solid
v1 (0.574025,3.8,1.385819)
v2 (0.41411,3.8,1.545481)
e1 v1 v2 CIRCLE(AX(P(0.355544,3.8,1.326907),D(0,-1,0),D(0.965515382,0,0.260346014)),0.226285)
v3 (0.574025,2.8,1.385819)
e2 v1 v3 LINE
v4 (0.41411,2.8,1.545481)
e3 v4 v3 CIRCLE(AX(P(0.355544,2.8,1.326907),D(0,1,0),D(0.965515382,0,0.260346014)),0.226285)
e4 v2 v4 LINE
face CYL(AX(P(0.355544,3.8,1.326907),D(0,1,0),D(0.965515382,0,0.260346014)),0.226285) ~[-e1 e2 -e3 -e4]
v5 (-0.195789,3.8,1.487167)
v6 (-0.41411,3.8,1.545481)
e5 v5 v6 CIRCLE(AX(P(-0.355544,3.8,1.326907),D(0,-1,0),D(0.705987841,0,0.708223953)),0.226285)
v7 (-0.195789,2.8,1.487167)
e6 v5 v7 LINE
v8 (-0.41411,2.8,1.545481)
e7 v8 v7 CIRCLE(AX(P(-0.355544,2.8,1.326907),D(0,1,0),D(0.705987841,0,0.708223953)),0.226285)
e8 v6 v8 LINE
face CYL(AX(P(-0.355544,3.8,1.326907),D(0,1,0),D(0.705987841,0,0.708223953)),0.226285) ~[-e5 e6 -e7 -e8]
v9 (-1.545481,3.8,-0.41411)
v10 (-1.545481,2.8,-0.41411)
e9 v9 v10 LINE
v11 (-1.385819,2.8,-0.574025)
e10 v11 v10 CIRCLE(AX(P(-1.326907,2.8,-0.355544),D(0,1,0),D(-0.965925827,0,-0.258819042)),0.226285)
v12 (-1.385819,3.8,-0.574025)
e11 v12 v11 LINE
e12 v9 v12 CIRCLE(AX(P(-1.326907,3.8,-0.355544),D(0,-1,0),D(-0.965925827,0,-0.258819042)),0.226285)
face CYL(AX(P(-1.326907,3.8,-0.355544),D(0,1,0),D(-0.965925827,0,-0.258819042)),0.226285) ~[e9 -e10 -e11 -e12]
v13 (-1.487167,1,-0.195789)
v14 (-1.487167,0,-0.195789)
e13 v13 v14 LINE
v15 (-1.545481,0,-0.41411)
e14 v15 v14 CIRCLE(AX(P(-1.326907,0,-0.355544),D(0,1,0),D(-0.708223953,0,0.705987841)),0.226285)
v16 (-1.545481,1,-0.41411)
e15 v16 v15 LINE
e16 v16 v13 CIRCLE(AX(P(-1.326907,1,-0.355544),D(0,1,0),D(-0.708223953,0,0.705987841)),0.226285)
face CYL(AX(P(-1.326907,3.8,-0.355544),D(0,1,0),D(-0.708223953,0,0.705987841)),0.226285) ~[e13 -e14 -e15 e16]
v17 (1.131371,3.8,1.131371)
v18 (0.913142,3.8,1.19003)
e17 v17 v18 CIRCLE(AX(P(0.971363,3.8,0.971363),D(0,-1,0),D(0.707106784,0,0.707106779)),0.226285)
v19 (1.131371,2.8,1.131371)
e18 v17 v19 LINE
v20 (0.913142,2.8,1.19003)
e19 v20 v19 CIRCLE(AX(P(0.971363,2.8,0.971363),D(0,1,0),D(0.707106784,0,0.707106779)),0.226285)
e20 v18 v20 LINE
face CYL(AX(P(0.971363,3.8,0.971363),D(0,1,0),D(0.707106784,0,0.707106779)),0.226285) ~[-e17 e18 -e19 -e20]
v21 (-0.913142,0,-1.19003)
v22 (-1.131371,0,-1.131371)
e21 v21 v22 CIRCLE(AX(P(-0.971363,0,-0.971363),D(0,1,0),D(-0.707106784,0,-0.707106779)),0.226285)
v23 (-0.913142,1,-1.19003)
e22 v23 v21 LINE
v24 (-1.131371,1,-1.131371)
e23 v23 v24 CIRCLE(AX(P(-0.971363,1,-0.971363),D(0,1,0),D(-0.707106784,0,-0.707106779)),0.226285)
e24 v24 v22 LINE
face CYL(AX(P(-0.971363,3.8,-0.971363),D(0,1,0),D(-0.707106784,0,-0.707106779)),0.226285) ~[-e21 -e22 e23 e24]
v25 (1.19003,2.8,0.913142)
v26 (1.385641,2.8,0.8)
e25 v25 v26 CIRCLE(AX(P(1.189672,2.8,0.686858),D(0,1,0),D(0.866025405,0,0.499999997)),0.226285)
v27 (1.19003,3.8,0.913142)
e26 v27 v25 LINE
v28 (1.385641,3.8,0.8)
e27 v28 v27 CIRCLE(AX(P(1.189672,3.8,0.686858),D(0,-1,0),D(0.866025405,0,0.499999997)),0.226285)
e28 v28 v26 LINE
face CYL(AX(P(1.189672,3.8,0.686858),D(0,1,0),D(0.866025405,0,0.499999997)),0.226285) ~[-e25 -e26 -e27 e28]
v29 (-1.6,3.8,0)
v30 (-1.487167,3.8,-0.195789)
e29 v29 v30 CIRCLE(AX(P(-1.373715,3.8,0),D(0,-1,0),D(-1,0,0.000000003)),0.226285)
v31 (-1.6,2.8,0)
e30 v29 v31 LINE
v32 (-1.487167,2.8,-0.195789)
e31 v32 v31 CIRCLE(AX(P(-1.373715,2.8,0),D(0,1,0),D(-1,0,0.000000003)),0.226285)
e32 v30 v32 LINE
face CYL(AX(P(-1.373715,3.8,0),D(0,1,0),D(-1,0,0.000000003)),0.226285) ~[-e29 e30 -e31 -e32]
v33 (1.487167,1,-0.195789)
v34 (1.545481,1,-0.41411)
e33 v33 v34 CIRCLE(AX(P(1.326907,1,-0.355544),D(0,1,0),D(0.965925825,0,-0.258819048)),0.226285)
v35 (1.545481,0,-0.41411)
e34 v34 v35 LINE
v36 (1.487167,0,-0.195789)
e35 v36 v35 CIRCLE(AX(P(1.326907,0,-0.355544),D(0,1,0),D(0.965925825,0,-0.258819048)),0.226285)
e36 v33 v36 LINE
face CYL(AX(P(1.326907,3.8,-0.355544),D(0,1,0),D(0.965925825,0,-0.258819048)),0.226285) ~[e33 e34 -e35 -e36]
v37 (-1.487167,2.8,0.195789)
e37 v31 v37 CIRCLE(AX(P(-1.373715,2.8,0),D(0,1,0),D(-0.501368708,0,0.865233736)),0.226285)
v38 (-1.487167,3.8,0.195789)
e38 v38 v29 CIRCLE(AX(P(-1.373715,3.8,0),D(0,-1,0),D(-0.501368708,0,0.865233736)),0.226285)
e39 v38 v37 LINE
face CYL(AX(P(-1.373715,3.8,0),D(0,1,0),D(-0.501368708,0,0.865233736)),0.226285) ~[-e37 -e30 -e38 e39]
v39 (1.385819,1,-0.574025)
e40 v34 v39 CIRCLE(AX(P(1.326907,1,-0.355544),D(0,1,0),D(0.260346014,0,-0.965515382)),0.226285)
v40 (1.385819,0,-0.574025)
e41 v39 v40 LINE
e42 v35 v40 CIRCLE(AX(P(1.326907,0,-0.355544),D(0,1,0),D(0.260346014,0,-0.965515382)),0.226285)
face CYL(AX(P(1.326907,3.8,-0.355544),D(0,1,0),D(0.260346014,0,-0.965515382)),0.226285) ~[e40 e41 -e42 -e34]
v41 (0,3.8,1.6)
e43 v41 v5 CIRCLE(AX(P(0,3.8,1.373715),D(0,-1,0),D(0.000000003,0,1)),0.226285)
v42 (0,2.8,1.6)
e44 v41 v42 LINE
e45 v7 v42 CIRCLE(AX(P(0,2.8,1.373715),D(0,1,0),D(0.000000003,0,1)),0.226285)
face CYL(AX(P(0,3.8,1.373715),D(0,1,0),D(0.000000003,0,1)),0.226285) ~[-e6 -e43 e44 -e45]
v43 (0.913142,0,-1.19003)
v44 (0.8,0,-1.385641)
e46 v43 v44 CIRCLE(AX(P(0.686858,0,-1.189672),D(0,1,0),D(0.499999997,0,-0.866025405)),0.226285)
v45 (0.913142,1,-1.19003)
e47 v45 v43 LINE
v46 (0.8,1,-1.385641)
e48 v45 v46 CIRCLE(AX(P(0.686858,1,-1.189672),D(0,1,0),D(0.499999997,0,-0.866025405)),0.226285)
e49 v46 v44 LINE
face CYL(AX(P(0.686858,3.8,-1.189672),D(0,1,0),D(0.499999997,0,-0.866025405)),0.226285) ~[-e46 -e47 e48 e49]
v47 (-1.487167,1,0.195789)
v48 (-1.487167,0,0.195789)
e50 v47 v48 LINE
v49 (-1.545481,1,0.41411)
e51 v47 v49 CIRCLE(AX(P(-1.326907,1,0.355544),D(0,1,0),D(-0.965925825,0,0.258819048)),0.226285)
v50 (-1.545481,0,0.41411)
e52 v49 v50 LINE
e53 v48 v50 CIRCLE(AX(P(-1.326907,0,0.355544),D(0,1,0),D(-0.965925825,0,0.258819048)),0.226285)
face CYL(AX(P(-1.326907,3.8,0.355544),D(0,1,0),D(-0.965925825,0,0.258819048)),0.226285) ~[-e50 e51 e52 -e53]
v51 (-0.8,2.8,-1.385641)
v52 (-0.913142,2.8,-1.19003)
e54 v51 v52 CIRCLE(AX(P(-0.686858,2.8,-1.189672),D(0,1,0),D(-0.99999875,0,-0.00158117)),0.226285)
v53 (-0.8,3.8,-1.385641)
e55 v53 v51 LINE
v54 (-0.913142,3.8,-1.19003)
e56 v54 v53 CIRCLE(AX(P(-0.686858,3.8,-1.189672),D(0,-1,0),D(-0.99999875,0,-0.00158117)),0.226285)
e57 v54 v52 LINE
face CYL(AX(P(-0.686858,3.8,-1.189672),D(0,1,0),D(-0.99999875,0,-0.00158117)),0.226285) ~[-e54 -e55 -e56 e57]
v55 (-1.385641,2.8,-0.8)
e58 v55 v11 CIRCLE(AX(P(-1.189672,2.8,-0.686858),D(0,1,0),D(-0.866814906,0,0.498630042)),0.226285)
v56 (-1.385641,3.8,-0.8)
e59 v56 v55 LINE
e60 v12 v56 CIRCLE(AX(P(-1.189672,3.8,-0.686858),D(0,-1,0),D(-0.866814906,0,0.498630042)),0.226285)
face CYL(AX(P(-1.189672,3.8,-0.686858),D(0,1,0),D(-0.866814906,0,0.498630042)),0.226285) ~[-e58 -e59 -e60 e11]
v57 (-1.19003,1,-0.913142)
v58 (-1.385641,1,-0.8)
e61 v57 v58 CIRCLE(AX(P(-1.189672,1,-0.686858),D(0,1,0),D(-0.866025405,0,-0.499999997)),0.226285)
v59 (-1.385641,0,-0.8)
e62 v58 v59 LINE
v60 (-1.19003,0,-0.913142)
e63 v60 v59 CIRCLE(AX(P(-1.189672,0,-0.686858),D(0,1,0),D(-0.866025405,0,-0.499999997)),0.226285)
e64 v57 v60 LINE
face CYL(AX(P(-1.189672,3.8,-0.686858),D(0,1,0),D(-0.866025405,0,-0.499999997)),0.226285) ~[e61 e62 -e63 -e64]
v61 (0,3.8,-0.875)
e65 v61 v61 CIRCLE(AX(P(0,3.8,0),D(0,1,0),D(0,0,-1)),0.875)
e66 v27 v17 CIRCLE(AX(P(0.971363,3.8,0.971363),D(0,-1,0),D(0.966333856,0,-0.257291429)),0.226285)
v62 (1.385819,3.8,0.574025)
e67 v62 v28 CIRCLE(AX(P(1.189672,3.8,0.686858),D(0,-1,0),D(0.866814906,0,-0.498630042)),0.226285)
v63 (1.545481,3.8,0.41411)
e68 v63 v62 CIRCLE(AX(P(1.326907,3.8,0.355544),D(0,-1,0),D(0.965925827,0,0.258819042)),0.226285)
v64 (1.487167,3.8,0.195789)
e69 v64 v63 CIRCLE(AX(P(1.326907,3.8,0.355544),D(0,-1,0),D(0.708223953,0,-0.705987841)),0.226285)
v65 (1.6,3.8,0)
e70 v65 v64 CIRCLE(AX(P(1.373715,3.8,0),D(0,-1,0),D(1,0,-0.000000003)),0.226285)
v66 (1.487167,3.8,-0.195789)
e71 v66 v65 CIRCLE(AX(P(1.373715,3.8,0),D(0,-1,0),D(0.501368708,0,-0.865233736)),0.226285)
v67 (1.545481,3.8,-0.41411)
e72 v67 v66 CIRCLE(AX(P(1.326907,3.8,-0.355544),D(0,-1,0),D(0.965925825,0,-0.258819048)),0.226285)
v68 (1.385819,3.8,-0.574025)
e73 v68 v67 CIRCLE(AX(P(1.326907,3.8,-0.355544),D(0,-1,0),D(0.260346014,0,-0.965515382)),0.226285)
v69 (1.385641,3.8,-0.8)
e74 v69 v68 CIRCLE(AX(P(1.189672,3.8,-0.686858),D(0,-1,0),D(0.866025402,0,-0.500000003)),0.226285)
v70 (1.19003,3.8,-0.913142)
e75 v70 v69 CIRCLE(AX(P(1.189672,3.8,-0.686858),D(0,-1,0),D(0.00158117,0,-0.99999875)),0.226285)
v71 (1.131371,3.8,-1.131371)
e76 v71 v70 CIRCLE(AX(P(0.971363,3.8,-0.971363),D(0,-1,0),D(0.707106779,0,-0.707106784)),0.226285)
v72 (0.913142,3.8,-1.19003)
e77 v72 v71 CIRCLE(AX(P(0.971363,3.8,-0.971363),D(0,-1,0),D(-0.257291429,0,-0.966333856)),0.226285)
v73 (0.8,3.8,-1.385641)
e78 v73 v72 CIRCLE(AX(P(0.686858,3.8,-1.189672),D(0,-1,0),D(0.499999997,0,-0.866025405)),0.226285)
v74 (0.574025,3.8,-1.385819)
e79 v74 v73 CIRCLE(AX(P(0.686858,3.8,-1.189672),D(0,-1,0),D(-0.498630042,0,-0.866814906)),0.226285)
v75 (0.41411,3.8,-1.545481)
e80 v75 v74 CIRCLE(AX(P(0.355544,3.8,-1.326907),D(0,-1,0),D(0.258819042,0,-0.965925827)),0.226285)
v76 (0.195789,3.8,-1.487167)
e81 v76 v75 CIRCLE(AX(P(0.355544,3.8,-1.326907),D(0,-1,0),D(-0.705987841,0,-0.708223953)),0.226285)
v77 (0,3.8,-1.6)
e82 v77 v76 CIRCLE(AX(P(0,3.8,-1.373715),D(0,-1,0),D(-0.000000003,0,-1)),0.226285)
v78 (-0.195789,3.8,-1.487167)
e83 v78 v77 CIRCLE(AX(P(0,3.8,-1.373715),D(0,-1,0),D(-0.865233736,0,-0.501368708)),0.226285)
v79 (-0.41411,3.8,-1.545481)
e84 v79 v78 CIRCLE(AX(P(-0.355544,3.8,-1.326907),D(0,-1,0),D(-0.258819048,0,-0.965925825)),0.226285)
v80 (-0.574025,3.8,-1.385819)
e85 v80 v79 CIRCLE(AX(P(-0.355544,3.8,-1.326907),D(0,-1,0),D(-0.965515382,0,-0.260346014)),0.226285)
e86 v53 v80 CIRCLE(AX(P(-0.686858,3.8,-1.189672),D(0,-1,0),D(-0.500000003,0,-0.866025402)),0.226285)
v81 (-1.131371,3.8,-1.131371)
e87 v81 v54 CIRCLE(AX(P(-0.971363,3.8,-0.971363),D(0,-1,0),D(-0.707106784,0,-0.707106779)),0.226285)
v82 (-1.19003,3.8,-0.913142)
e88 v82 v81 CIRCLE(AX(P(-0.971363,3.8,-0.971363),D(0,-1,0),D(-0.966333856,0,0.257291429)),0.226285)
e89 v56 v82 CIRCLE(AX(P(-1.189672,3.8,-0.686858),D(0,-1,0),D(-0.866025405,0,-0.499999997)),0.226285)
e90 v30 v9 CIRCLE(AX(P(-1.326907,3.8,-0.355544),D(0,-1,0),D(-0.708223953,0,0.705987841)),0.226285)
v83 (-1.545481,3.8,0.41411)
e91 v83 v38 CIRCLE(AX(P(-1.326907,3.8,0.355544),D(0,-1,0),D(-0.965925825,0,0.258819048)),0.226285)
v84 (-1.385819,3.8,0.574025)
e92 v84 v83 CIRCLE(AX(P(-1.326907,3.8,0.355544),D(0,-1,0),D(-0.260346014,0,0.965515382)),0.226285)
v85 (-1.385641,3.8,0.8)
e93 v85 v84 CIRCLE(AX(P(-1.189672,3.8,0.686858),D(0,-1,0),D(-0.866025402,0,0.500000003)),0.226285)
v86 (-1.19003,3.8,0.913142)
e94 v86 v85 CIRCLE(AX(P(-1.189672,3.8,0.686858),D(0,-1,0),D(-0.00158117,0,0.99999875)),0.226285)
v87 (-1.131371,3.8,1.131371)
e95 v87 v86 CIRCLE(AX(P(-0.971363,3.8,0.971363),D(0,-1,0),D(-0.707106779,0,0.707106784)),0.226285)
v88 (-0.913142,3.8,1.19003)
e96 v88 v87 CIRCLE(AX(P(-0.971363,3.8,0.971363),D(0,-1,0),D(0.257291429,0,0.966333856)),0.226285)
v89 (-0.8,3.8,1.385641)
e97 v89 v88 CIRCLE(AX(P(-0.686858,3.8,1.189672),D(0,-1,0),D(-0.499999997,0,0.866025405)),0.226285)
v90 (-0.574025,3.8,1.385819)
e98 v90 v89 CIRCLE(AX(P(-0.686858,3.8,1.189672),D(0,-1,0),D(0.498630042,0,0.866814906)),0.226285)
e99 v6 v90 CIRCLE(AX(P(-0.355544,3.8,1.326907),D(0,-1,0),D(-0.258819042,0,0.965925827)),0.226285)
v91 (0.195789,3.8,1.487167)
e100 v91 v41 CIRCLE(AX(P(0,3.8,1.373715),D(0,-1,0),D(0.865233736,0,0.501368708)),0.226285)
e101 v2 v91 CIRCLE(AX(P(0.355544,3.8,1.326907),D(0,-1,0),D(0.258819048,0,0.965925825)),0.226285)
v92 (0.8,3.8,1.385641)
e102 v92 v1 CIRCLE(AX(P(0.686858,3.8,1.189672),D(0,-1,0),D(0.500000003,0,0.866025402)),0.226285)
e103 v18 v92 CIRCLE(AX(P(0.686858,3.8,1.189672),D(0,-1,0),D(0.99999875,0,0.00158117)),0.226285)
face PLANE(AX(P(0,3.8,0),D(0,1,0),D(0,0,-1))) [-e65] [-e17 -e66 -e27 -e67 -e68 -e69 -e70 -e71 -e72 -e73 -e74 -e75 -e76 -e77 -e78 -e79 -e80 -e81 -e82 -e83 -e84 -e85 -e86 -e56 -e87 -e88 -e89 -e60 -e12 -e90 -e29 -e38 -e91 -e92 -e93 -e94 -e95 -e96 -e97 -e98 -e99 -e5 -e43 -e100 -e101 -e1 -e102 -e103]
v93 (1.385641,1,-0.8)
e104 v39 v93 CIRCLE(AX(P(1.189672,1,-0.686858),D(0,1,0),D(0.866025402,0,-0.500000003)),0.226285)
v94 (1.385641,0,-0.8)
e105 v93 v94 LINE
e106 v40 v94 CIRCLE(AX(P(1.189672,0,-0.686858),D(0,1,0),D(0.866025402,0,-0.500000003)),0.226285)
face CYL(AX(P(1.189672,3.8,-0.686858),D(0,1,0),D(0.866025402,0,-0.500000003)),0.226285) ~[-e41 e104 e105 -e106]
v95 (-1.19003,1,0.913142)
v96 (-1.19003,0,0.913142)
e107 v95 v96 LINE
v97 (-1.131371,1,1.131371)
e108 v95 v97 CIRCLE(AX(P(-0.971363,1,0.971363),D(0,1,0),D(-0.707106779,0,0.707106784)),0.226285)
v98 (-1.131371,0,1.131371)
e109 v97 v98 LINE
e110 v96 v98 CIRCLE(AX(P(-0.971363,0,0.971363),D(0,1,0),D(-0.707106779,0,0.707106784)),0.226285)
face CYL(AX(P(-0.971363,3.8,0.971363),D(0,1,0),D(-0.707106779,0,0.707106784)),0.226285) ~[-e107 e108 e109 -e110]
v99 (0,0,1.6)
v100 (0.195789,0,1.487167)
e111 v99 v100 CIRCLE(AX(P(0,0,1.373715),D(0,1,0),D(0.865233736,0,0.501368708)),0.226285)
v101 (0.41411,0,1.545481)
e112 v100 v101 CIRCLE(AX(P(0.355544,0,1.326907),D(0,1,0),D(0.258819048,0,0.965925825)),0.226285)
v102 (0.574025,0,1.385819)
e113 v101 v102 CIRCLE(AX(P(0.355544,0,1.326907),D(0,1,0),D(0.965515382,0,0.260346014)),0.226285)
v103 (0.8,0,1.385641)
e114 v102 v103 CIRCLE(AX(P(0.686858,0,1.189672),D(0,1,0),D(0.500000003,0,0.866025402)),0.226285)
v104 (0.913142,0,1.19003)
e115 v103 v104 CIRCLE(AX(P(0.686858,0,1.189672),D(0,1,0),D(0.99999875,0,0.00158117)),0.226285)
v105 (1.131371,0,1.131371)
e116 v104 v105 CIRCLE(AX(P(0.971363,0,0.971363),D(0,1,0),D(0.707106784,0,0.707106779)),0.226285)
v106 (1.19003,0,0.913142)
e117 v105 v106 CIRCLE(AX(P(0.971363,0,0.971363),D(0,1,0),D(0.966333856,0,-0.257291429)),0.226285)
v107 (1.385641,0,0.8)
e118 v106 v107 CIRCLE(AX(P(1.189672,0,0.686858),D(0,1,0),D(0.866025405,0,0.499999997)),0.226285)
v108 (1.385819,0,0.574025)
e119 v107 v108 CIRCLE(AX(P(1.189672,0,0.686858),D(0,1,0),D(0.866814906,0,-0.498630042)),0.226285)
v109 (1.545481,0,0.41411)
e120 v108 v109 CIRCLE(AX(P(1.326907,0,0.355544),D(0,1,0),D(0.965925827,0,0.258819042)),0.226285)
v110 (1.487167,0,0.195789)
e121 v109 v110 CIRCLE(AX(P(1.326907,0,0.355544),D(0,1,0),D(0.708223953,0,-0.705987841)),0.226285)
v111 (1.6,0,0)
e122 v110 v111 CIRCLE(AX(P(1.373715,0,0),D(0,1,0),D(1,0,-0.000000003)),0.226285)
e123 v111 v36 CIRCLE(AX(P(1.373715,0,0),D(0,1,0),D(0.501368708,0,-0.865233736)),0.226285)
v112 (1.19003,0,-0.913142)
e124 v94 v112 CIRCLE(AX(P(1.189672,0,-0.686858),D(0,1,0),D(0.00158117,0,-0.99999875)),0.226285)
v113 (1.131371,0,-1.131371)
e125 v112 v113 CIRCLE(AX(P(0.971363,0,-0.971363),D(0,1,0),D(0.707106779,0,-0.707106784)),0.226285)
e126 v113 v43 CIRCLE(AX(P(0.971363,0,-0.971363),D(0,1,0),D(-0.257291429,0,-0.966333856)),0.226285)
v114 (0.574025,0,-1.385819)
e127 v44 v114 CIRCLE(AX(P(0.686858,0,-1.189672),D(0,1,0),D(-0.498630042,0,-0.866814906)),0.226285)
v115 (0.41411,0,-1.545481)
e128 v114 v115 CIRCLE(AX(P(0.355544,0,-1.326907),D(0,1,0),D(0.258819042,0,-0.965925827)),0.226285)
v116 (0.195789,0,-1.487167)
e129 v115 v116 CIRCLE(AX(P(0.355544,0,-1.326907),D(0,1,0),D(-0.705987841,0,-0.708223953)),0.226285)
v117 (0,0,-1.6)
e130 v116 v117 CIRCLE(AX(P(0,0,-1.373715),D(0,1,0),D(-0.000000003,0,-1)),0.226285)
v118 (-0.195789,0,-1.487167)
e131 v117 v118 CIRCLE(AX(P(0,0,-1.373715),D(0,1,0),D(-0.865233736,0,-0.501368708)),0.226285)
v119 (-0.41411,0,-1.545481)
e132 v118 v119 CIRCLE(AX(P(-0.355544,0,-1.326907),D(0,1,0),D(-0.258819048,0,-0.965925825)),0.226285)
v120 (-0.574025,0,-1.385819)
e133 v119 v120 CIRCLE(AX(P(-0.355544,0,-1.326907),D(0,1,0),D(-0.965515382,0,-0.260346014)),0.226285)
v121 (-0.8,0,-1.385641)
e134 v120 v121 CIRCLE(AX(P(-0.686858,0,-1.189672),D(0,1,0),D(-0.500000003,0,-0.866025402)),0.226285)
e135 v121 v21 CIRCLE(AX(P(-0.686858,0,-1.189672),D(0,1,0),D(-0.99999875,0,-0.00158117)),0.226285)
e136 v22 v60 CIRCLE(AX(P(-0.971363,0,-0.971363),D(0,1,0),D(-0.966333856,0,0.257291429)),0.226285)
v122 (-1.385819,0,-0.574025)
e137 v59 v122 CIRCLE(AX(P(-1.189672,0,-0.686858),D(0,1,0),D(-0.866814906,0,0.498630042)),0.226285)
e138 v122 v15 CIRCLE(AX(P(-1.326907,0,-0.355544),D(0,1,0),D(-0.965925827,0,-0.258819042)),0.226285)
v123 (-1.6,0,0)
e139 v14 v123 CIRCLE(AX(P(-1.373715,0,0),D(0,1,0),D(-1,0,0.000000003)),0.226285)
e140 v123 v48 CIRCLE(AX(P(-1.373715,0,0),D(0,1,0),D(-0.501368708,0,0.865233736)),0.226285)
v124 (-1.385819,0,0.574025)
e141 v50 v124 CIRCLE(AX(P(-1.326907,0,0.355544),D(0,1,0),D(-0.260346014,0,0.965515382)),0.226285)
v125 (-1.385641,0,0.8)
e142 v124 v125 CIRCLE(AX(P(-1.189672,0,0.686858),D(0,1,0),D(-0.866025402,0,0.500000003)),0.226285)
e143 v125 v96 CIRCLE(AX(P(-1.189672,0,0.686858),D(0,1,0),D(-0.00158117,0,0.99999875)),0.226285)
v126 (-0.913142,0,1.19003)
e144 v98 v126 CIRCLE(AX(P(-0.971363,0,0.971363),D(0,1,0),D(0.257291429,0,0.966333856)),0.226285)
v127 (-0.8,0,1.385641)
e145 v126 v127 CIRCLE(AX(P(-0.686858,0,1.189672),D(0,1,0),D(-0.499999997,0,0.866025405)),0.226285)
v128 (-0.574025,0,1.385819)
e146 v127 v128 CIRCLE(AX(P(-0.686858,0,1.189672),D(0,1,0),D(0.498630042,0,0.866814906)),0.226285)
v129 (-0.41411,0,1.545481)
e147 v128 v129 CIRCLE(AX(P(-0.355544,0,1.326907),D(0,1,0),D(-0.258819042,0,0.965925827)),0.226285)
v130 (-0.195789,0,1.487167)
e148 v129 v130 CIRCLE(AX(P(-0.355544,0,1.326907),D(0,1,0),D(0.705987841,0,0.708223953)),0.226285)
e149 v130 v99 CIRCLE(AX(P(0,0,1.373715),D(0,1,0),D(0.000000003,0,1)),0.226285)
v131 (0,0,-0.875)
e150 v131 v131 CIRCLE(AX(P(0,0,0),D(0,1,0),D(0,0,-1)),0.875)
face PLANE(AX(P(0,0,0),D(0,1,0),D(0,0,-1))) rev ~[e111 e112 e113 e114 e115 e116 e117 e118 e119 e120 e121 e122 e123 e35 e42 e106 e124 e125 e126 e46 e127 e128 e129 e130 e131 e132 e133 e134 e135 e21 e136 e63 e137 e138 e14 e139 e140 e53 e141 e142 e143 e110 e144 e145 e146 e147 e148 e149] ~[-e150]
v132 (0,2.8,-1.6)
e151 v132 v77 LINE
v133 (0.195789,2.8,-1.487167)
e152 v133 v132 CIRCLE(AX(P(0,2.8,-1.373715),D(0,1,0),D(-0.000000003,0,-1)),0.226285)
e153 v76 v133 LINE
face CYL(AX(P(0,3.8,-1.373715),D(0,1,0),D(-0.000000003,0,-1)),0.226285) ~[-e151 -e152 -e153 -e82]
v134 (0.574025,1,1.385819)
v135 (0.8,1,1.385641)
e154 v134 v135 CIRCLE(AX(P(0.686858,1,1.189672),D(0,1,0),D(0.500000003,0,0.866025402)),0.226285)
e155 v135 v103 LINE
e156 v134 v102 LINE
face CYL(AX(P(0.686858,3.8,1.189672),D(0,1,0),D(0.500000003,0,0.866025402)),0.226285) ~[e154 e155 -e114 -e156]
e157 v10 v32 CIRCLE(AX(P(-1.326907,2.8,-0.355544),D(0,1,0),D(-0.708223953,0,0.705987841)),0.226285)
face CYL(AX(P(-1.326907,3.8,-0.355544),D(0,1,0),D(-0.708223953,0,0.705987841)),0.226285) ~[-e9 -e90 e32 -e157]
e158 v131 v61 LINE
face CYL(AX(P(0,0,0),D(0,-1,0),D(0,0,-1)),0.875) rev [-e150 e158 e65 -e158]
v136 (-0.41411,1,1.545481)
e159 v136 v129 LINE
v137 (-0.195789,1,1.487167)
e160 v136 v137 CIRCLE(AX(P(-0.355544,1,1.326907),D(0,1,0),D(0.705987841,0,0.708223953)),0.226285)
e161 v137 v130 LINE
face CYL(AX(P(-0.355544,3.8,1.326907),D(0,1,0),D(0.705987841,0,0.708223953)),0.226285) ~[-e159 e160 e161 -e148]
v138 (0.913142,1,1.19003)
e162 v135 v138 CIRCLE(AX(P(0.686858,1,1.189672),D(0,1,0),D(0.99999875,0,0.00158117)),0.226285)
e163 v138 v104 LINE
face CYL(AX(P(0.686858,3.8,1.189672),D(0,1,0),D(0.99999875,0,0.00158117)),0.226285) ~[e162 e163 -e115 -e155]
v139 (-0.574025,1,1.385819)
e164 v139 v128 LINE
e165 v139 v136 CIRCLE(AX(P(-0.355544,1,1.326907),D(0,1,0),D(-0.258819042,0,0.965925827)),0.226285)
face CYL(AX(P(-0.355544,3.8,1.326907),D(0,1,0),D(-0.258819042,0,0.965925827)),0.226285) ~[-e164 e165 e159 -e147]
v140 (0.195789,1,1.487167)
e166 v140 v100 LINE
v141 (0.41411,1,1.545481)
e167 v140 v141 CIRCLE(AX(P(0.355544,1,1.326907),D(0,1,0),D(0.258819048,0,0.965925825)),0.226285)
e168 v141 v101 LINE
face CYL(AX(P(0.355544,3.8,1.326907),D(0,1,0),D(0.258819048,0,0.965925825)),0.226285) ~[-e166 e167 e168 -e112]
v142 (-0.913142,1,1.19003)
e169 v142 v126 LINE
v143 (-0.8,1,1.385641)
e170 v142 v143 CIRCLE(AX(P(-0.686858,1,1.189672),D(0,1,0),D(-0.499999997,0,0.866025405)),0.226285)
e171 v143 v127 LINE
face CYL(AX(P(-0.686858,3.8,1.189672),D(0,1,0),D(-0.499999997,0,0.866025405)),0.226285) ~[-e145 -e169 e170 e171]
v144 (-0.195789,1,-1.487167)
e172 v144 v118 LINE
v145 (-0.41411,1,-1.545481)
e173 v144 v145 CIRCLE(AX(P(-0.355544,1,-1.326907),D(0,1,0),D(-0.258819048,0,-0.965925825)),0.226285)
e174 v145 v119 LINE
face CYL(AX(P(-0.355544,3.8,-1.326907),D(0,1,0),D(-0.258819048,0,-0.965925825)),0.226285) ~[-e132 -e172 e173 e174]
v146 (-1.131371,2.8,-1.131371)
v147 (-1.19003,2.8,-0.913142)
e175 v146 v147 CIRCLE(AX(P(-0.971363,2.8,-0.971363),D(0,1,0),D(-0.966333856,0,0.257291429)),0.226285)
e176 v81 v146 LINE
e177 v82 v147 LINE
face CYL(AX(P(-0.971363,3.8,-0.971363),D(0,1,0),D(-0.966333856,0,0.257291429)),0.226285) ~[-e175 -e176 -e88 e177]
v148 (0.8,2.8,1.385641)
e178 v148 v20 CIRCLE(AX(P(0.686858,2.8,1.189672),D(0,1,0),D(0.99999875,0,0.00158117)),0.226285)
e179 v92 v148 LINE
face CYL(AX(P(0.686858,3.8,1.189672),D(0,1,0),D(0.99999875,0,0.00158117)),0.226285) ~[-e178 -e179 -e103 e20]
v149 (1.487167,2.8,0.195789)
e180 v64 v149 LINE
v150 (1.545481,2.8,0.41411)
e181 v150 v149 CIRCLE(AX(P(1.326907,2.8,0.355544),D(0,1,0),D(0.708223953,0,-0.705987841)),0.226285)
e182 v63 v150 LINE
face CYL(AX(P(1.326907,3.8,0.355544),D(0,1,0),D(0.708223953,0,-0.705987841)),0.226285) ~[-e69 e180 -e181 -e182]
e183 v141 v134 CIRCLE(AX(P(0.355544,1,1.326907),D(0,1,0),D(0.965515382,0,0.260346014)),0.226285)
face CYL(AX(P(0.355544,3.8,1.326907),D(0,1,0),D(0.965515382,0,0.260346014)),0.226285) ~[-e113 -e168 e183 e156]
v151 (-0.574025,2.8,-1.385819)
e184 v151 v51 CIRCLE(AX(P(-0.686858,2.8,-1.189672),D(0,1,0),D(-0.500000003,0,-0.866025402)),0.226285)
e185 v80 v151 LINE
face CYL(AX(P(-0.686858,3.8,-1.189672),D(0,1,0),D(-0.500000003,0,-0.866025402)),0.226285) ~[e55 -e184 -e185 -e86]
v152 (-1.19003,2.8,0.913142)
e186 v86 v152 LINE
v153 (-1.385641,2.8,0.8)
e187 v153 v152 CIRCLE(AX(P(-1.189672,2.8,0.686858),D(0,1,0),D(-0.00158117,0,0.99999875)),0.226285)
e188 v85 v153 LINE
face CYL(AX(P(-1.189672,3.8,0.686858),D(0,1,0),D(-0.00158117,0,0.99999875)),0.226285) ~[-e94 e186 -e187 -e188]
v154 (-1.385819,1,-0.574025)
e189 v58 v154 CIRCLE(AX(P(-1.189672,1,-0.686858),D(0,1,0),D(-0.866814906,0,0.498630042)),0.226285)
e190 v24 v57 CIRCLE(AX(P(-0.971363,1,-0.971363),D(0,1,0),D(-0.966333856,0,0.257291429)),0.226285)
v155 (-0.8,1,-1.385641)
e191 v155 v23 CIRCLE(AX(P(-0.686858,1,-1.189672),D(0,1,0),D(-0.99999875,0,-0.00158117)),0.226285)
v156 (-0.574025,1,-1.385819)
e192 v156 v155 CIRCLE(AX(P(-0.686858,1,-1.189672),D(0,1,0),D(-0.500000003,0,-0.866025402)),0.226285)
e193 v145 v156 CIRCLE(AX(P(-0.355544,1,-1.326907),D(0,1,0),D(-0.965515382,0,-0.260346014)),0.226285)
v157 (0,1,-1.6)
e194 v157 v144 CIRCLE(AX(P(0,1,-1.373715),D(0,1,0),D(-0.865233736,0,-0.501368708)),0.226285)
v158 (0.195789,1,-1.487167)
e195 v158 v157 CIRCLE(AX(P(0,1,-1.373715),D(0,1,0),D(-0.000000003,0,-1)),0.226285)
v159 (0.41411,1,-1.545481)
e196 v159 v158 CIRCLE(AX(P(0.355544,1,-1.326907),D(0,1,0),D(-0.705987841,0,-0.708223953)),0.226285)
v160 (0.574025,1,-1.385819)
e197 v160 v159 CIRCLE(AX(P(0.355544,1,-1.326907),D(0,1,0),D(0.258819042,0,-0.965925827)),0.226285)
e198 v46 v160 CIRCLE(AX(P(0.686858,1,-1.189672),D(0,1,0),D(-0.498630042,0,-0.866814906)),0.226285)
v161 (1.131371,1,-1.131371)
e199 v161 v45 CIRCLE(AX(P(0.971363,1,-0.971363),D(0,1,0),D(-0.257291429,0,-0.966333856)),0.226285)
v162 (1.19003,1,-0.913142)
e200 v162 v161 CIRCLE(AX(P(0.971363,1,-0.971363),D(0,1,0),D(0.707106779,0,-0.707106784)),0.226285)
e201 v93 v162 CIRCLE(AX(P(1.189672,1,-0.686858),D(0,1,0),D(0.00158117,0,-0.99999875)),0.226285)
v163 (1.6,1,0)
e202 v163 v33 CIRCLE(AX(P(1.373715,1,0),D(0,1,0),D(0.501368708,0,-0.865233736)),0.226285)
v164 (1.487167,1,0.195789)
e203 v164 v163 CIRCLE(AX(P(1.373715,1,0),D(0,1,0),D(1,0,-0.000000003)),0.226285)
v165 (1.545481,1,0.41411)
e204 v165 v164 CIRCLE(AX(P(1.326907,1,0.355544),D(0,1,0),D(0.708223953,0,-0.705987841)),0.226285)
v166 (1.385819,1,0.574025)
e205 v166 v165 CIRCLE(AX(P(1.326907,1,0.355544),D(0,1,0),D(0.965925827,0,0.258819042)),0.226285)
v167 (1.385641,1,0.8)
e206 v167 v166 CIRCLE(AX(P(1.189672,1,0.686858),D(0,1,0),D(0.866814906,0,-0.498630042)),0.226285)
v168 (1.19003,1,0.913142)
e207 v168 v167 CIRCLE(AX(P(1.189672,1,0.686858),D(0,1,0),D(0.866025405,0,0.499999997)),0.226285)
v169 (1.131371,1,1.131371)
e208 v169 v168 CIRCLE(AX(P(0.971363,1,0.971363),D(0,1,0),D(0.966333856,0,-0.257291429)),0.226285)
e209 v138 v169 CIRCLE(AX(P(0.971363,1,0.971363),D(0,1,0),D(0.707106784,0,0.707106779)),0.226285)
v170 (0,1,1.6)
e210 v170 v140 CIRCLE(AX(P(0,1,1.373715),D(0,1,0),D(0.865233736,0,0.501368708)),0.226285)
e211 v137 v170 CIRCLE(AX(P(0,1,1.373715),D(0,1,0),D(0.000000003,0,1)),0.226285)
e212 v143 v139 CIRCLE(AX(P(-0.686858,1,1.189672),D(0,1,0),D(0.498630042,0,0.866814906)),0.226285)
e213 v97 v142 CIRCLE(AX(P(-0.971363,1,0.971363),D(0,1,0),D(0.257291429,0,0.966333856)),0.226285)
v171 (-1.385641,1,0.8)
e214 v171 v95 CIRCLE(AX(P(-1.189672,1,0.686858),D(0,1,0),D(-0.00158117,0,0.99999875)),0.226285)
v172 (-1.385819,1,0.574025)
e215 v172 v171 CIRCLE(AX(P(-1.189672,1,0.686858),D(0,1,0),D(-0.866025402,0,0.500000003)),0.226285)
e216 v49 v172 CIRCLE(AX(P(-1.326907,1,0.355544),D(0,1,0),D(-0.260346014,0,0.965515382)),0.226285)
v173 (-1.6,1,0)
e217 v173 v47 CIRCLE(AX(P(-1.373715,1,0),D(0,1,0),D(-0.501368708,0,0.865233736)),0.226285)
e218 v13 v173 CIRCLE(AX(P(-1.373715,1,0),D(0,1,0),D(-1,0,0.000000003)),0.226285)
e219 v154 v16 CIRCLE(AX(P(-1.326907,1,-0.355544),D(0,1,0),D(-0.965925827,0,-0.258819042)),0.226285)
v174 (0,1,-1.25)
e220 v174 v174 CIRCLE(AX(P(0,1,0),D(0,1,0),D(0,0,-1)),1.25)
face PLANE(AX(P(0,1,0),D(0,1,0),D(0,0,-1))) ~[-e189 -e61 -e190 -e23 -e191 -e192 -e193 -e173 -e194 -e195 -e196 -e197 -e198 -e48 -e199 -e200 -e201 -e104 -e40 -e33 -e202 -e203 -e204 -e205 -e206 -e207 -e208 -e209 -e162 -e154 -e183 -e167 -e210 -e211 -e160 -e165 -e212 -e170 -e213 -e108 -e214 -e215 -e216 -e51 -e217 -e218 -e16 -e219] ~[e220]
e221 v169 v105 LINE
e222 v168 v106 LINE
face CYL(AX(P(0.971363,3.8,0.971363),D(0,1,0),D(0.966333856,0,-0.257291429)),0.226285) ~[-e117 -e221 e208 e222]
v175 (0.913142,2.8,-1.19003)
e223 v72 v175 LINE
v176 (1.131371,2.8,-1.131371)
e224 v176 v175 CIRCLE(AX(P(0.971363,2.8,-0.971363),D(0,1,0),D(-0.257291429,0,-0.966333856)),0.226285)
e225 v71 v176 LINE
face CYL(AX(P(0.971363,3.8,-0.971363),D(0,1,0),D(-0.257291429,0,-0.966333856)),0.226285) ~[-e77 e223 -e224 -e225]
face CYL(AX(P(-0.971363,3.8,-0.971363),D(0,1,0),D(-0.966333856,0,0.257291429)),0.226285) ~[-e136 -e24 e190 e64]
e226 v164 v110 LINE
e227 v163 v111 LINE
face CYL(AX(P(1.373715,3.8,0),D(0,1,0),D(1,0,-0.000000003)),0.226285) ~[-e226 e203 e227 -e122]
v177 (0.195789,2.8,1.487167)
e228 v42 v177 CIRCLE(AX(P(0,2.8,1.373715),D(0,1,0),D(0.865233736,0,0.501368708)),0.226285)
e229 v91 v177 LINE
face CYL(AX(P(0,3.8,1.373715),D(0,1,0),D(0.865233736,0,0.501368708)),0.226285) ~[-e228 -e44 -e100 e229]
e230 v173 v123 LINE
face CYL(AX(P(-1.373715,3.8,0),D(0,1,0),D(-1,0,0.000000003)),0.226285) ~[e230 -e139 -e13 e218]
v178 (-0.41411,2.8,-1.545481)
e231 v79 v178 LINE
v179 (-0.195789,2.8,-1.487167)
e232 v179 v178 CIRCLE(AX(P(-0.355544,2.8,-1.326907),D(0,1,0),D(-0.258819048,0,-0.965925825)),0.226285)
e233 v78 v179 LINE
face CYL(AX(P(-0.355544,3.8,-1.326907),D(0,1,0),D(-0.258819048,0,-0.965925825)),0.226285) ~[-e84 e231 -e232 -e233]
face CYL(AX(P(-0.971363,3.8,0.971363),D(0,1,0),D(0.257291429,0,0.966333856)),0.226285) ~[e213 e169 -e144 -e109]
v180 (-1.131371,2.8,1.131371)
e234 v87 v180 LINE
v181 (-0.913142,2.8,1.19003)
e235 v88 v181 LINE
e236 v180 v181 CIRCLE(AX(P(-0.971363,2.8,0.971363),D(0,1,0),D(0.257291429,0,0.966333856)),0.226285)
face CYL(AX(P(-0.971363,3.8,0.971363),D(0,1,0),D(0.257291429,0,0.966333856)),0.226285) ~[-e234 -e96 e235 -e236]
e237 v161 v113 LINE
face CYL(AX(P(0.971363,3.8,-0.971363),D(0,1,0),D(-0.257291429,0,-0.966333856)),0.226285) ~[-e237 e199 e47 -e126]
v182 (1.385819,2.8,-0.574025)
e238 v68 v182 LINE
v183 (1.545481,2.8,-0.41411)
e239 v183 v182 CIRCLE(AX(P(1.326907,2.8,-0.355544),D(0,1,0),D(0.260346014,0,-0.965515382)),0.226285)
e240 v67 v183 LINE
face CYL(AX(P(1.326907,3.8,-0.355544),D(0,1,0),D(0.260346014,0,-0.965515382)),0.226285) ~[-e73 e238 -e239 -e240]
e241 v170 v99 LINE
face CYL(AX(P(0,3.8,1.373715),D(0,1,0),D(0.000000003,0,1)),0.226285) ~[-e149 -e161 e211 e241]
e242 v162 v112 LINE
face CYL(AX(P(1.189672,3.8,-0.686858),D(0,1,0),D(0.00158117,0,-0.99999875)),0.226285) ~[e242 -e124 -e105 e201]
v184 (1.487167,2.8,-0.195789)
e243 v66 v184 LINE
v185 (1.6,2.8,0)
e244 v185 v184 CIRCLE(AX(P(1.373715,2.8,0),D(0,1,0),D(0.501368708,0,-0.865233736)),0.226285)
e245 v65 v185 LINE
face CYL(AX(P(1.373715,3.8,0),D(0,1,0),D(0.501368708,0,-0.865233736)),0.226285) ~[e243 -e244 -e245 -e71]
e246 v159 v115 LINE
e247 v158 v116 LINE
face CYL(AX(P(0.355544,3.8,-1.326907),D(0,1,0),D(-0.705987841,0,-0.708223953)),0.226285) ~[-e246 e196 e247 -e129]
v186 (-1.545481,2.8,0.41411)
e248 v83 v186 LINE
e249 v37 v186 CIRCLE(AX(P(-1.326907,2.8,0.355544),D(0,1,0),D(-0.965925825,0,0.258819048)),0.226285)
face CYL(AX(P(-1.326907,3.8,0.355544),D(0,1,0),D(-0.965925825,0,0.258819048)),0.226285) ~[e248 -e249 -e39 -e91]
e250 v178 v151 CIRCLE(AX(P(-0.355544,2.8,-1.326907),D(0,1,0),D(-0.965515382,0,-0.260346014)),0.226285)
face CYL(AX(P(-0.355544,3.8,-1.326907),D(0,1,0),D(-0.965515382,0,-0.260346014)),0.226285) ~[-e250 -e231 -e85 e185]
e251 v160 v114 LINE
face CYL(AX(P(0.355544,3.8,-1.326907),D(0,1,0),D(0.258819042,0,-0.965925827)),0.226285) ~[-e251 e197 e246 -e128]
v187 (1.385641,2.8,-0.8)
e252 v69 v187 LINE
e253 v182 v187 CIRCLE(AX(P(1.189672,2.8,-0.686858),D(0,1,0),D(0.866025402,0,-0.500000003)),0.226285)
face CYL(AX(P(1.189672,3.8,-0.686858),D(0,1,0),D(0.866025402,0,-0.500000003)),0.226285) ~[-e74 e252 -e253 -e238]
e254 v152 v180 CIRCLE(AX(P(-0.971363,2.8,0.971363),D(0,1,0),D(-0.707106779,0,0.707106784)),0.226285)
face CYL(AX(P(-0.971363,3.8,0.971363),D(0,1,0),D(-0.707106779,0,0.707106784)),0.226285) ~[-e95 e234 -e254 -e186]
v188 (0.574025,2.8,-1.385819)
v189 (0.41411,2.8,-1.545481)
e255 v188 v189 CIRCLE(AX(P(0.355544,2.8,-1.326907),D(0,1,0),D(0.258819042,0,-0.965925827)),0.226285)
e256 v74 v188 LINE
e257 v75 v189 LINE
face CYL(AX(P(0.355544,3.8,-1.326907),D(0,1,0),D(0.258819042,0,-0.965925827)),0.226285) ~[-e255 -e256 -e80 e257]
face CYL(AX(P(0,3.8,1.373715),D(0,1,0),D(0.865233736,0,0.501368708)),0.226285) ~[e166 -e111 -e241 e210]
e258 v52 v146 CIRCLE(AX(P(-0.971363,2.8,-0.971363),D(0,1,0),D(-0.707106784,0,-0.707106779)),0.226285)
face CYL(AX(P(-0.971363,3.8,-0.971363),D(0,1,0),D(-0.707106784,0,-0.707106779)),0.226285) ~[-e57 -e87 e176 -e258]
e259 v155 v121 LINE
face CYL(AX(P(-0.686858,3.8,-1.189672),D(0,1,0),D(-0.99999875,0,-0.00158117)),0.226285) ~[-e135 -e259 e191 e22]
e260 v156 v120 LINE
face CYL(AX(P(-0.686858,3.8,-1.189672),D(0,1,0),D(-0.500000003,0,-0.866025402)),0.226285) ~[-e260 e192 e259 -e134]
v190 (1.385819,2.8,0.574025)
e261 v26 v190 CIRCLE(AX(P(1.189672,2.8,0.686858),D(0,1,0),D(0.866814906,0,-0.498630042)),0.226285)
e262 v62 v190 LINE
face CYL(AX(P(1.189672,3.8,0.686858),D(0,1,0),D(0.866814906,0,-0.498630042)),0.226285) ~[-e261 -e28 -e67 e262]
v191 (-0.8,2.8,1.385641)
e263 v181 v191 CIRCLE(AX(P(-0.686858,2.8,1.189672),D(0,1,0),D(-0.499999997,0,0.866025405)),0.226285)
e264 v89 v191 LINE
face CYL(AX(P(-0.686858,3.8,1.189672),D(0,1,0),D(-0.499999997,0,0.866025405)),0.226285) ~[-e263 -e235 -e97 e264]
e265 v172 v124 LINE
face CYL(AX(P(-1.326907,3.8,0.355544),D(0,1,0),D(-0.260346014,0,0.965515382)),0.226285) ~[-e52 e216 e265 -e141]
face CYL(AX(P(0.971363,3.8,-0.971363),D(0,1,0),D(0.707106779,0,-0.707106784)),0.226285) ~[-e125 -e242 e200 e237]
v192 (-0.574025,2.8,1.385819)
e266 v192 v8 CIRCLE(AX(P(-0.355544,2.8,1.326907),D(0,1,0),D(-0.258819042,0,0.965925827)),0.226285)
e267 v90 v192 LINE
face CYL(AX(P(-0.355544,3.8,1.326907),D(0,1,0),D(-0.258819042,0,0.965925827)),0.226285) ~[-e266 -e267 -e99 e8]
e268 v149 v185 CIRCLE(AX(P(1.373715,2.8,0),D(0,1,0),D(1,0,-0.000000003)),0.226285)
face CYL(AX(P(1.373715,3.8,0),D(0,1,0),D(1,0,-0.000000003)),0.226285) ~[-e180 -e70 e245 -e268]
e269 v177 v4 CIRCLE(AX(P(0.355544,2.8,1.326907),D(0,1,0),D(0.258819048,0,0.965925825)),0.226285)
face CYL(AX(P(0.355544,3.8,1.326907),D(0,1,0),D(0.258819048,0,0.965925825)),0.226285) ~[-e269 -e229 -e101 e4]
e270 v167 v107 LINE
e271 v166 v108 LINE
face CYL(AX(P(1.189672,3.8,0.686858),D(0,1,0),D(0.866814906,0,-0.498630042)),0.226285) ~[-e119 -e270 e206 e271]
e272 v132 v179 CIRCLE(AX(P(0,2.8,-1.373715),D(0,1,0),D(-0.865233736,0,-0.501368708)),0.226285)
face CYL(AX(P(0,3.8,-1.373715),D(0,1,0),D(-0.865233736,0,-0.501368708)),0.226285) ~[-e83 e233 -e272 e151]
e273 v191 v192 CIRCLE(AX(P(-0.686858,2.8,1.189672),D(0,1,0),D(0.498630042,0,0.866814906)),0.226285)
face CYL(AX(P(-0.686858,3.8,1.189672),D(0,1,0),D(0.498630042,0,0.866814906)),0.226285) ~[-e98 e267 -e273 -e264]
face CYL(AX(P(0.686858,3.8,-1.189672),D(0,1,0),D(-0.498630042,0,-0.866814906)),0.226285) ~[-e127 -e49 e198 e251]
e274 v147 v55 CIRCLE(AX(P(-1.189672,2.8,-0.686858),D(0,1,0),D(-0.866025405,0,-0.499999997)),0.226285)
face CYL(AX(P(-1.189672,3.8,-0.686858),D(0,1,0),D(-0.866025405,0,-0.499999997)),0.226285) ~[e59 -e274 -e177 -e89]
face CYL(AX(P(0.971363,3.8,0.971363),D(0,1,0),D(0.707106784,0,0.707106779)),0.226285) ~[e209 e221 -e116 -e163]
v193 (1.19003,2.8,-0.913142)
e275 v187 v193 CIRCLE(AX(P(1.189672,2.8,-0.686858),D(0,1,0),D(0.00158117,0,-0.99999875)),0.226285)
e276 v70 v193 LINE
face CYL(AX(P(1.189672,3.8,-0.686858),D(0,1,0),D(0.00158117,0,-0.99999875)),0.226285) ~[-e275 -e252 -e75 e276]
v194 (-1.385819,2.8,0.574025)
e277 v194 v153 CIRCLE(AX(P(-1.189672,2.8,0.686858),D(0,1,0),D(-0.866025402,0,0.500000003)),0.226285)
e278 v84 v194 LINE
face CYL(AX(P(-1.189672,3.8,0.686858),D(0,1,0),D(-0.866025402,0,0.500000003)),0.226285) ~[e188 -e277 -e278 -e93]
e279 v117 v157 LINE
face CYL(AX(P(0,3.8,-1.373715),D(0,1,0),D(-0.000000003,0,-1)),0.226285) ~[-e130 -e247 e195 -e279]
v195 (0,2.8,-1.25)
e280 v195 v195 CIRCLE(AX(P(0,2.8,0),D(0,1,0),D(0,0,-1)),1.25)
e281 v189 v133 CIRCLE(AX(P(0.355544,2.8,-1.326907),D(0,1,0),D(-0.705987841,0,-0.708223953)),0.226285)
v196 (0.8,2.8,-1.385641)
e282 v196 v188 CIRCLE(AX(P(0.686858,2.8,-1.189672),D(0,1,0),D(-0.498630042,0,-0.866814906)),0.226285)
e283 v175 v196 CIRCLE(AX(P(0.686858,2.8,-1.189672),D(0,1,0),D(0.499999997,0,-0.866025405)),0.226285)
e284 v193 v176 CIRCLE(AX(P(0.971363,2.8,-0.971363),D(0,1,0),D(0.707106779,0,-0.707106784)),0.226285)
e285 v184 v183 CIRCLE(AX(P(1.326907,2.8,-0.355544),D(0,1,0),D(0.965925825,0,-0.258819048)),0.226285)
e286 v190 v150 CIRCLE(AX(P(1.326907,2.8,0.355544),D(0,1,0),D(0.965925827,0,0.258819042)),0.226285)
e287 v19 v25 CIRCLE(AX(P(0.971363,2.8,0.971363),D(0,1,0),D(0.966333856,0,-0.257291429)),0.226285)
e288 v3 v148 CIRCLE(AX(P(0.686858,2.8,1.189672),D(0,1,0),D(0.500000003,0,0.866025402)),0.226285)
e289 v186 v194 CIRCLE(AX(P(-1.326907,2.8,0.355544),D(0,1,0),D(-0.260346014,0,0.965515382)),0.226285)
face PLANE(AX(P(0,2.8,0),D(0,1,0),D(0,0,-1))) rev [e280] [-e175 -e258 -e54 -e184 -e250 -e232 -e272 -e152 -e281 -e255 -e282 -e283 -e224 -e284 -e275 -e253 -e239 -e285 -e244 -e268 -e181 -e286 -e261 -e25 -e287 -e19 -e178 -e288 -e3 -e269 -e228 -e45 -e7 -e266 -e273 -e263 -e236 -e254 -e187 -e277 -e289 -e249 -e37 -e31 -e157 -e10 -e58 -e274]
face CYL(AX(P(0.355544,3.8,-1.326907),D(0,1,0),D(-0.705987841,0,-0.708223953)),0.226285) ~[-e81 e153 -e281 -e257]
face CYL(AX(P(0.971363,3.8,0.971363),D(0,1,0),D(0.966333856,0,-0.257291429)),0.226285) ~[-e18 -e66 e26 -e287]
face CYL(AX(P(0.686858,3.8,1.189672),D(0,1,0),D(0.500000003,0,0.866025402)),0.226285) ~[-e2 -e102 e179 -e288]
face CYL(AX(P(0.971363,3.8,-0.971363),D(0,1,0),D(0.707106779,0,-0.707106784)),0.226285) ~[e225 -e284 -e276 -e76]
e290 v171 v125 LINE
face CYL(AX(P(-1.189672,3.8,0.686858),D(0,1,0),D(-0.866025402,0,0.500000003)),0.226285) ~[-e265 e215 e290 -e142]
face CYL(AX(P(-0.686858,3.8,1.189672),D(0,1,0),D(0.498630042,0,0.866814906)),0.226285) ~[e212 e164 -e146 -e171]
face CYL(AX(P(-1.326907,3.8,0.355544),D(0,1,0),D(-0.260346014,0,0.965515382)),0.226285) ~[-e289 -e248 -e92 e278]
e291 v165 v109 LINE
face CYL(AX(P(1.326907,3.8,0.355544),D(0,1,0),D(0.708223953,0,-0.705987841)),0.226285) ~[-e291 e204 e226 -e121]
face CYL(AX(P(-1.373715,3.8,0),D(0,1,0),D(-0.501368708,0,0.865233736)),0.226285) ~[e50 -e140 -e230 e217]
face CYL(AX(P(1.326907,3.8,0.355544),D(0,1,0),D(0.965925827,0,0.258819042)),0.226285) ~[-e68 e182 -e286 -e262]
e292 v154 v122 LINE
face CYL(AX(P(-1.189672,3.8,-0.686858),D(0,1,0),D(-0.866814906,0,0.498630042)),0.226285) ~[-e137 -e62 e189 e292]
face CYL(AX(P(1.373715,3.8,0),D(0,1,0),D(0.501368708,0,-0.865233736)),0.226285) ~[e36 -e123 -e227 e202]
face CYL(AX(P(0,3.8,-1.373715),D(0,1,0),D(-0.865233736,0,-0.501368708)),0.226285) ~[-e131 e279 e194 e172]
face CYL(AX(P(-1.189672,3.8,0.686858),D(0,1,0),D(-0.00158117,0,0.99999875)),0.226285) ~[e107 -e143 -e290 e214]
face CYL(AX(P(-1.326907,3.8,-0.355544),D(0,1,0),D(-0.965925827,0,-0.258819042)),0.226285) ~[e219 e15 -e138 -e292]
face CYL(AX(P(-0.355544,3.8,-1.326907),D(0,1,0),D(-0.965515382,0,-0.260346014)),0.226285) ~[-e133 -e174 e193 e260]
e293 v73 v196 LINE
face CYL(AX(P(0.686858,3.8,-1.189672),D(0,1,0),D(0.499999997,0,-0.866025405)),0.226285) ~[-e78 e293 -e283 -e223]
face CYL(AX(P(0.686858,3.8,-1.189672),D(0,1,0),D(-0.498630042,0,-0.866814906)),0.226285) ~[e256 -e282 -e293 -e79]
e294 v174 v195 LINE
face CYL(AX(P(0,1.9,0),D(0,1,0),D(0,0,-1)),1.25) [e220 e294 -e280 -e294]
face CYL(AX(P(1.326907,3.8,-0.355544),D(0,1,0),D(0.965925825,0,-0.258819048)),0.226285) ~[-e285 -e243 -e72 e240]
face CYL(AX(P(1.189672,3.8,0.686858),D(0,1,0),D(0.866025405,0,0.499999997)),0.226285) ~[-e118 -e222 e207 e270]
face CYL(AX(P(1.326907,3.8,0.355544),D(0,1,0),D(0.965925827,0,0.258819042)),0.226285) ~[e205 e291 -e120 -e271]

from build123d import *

# Parameters (mm, degrees)
SKETCH1_R           = 1.6
SKETCH1_R_2         = 0.875
BOSS_EXTRUDE1_DEPTH = 3.8
SKETCH2_W           = 0.35
SKETCH2_H           = 1.8
CUT_EXTRUDE1_DEPTH  = 5.422668877
CIRPATTERN1_COUNT   = 24


with BuildPart() as part:
    # Sketch1 → Boss-Extrude1 (new body)
    with BuildSketch(Plane(origin=(0, 0, 0), x_dir=(1, 0, 0), z_dir=(0, 1, 0))):
        with Locations(Location((0, 0, 0), (0, 0, 90))):
            Circle(SKETCH1_R)
        with Locations(Location((0, 0, 0), (0, 0, 90))):
            Circle(SKETCH1_R_2, mode=Mode.SUBTRACT)
    extrude(amount=BOSS_EXTRUDE1_DEPTH)

    # Sketch2 → Cut-Revolve1 (revolve, cut)
    with BuildSketch(Plane(origin=(0, 0, 0), x_dir=(0, 0, -1), z_dir=(1, 0, 0))):
        with Locations((1.425, 1.9)):
            Rectangle(SKETCH2_W, SKETCH2_H)
    revolve(axis=Axis((0, 0, 0), (0, 1, 0)), mode=Mode.SUBTRACT)

    # Sketch3 → Cut-Extrude1 (cut, through all)
    with BuildSketch(Plane(origin=(0, 3.8, 0), x_dir=(1, 0, 0), z_dir=(0, 1, 0))):
        with BuildLine():
            ThreePointArc((0, 1.6), (0.112987461, 1.569772966), (0.195789288, 1.487167292))
            ThreePointArc((0.195789288, 1.487167292), (0.297149633, 1.545527556), (0.414110472, 1.545481322))
            ThreePointArc((0.414110472, 1.545481322), (0.208841908, 1.586311778), (0, 1.6))
        make_face()
    cut_extrude1 = extrude(amount=-CUT_EXTRUDE1_DEPTH, mode=Mode.SUBTRACT)

    # CirPattern1: Cut-Extrude1 ×24 about axis
    cirpattern1_axis = Axis((0, 0, 0), (0, 1, 0))
    for i in range(1, CIRPATTERN1_COUNT):
        add(cut_extrude1.rotate(cirpattern1_axis, i * 360 / CIRPATTERN1_COUNT), mode=Mode.SUBTRACT)


solid = part.part
